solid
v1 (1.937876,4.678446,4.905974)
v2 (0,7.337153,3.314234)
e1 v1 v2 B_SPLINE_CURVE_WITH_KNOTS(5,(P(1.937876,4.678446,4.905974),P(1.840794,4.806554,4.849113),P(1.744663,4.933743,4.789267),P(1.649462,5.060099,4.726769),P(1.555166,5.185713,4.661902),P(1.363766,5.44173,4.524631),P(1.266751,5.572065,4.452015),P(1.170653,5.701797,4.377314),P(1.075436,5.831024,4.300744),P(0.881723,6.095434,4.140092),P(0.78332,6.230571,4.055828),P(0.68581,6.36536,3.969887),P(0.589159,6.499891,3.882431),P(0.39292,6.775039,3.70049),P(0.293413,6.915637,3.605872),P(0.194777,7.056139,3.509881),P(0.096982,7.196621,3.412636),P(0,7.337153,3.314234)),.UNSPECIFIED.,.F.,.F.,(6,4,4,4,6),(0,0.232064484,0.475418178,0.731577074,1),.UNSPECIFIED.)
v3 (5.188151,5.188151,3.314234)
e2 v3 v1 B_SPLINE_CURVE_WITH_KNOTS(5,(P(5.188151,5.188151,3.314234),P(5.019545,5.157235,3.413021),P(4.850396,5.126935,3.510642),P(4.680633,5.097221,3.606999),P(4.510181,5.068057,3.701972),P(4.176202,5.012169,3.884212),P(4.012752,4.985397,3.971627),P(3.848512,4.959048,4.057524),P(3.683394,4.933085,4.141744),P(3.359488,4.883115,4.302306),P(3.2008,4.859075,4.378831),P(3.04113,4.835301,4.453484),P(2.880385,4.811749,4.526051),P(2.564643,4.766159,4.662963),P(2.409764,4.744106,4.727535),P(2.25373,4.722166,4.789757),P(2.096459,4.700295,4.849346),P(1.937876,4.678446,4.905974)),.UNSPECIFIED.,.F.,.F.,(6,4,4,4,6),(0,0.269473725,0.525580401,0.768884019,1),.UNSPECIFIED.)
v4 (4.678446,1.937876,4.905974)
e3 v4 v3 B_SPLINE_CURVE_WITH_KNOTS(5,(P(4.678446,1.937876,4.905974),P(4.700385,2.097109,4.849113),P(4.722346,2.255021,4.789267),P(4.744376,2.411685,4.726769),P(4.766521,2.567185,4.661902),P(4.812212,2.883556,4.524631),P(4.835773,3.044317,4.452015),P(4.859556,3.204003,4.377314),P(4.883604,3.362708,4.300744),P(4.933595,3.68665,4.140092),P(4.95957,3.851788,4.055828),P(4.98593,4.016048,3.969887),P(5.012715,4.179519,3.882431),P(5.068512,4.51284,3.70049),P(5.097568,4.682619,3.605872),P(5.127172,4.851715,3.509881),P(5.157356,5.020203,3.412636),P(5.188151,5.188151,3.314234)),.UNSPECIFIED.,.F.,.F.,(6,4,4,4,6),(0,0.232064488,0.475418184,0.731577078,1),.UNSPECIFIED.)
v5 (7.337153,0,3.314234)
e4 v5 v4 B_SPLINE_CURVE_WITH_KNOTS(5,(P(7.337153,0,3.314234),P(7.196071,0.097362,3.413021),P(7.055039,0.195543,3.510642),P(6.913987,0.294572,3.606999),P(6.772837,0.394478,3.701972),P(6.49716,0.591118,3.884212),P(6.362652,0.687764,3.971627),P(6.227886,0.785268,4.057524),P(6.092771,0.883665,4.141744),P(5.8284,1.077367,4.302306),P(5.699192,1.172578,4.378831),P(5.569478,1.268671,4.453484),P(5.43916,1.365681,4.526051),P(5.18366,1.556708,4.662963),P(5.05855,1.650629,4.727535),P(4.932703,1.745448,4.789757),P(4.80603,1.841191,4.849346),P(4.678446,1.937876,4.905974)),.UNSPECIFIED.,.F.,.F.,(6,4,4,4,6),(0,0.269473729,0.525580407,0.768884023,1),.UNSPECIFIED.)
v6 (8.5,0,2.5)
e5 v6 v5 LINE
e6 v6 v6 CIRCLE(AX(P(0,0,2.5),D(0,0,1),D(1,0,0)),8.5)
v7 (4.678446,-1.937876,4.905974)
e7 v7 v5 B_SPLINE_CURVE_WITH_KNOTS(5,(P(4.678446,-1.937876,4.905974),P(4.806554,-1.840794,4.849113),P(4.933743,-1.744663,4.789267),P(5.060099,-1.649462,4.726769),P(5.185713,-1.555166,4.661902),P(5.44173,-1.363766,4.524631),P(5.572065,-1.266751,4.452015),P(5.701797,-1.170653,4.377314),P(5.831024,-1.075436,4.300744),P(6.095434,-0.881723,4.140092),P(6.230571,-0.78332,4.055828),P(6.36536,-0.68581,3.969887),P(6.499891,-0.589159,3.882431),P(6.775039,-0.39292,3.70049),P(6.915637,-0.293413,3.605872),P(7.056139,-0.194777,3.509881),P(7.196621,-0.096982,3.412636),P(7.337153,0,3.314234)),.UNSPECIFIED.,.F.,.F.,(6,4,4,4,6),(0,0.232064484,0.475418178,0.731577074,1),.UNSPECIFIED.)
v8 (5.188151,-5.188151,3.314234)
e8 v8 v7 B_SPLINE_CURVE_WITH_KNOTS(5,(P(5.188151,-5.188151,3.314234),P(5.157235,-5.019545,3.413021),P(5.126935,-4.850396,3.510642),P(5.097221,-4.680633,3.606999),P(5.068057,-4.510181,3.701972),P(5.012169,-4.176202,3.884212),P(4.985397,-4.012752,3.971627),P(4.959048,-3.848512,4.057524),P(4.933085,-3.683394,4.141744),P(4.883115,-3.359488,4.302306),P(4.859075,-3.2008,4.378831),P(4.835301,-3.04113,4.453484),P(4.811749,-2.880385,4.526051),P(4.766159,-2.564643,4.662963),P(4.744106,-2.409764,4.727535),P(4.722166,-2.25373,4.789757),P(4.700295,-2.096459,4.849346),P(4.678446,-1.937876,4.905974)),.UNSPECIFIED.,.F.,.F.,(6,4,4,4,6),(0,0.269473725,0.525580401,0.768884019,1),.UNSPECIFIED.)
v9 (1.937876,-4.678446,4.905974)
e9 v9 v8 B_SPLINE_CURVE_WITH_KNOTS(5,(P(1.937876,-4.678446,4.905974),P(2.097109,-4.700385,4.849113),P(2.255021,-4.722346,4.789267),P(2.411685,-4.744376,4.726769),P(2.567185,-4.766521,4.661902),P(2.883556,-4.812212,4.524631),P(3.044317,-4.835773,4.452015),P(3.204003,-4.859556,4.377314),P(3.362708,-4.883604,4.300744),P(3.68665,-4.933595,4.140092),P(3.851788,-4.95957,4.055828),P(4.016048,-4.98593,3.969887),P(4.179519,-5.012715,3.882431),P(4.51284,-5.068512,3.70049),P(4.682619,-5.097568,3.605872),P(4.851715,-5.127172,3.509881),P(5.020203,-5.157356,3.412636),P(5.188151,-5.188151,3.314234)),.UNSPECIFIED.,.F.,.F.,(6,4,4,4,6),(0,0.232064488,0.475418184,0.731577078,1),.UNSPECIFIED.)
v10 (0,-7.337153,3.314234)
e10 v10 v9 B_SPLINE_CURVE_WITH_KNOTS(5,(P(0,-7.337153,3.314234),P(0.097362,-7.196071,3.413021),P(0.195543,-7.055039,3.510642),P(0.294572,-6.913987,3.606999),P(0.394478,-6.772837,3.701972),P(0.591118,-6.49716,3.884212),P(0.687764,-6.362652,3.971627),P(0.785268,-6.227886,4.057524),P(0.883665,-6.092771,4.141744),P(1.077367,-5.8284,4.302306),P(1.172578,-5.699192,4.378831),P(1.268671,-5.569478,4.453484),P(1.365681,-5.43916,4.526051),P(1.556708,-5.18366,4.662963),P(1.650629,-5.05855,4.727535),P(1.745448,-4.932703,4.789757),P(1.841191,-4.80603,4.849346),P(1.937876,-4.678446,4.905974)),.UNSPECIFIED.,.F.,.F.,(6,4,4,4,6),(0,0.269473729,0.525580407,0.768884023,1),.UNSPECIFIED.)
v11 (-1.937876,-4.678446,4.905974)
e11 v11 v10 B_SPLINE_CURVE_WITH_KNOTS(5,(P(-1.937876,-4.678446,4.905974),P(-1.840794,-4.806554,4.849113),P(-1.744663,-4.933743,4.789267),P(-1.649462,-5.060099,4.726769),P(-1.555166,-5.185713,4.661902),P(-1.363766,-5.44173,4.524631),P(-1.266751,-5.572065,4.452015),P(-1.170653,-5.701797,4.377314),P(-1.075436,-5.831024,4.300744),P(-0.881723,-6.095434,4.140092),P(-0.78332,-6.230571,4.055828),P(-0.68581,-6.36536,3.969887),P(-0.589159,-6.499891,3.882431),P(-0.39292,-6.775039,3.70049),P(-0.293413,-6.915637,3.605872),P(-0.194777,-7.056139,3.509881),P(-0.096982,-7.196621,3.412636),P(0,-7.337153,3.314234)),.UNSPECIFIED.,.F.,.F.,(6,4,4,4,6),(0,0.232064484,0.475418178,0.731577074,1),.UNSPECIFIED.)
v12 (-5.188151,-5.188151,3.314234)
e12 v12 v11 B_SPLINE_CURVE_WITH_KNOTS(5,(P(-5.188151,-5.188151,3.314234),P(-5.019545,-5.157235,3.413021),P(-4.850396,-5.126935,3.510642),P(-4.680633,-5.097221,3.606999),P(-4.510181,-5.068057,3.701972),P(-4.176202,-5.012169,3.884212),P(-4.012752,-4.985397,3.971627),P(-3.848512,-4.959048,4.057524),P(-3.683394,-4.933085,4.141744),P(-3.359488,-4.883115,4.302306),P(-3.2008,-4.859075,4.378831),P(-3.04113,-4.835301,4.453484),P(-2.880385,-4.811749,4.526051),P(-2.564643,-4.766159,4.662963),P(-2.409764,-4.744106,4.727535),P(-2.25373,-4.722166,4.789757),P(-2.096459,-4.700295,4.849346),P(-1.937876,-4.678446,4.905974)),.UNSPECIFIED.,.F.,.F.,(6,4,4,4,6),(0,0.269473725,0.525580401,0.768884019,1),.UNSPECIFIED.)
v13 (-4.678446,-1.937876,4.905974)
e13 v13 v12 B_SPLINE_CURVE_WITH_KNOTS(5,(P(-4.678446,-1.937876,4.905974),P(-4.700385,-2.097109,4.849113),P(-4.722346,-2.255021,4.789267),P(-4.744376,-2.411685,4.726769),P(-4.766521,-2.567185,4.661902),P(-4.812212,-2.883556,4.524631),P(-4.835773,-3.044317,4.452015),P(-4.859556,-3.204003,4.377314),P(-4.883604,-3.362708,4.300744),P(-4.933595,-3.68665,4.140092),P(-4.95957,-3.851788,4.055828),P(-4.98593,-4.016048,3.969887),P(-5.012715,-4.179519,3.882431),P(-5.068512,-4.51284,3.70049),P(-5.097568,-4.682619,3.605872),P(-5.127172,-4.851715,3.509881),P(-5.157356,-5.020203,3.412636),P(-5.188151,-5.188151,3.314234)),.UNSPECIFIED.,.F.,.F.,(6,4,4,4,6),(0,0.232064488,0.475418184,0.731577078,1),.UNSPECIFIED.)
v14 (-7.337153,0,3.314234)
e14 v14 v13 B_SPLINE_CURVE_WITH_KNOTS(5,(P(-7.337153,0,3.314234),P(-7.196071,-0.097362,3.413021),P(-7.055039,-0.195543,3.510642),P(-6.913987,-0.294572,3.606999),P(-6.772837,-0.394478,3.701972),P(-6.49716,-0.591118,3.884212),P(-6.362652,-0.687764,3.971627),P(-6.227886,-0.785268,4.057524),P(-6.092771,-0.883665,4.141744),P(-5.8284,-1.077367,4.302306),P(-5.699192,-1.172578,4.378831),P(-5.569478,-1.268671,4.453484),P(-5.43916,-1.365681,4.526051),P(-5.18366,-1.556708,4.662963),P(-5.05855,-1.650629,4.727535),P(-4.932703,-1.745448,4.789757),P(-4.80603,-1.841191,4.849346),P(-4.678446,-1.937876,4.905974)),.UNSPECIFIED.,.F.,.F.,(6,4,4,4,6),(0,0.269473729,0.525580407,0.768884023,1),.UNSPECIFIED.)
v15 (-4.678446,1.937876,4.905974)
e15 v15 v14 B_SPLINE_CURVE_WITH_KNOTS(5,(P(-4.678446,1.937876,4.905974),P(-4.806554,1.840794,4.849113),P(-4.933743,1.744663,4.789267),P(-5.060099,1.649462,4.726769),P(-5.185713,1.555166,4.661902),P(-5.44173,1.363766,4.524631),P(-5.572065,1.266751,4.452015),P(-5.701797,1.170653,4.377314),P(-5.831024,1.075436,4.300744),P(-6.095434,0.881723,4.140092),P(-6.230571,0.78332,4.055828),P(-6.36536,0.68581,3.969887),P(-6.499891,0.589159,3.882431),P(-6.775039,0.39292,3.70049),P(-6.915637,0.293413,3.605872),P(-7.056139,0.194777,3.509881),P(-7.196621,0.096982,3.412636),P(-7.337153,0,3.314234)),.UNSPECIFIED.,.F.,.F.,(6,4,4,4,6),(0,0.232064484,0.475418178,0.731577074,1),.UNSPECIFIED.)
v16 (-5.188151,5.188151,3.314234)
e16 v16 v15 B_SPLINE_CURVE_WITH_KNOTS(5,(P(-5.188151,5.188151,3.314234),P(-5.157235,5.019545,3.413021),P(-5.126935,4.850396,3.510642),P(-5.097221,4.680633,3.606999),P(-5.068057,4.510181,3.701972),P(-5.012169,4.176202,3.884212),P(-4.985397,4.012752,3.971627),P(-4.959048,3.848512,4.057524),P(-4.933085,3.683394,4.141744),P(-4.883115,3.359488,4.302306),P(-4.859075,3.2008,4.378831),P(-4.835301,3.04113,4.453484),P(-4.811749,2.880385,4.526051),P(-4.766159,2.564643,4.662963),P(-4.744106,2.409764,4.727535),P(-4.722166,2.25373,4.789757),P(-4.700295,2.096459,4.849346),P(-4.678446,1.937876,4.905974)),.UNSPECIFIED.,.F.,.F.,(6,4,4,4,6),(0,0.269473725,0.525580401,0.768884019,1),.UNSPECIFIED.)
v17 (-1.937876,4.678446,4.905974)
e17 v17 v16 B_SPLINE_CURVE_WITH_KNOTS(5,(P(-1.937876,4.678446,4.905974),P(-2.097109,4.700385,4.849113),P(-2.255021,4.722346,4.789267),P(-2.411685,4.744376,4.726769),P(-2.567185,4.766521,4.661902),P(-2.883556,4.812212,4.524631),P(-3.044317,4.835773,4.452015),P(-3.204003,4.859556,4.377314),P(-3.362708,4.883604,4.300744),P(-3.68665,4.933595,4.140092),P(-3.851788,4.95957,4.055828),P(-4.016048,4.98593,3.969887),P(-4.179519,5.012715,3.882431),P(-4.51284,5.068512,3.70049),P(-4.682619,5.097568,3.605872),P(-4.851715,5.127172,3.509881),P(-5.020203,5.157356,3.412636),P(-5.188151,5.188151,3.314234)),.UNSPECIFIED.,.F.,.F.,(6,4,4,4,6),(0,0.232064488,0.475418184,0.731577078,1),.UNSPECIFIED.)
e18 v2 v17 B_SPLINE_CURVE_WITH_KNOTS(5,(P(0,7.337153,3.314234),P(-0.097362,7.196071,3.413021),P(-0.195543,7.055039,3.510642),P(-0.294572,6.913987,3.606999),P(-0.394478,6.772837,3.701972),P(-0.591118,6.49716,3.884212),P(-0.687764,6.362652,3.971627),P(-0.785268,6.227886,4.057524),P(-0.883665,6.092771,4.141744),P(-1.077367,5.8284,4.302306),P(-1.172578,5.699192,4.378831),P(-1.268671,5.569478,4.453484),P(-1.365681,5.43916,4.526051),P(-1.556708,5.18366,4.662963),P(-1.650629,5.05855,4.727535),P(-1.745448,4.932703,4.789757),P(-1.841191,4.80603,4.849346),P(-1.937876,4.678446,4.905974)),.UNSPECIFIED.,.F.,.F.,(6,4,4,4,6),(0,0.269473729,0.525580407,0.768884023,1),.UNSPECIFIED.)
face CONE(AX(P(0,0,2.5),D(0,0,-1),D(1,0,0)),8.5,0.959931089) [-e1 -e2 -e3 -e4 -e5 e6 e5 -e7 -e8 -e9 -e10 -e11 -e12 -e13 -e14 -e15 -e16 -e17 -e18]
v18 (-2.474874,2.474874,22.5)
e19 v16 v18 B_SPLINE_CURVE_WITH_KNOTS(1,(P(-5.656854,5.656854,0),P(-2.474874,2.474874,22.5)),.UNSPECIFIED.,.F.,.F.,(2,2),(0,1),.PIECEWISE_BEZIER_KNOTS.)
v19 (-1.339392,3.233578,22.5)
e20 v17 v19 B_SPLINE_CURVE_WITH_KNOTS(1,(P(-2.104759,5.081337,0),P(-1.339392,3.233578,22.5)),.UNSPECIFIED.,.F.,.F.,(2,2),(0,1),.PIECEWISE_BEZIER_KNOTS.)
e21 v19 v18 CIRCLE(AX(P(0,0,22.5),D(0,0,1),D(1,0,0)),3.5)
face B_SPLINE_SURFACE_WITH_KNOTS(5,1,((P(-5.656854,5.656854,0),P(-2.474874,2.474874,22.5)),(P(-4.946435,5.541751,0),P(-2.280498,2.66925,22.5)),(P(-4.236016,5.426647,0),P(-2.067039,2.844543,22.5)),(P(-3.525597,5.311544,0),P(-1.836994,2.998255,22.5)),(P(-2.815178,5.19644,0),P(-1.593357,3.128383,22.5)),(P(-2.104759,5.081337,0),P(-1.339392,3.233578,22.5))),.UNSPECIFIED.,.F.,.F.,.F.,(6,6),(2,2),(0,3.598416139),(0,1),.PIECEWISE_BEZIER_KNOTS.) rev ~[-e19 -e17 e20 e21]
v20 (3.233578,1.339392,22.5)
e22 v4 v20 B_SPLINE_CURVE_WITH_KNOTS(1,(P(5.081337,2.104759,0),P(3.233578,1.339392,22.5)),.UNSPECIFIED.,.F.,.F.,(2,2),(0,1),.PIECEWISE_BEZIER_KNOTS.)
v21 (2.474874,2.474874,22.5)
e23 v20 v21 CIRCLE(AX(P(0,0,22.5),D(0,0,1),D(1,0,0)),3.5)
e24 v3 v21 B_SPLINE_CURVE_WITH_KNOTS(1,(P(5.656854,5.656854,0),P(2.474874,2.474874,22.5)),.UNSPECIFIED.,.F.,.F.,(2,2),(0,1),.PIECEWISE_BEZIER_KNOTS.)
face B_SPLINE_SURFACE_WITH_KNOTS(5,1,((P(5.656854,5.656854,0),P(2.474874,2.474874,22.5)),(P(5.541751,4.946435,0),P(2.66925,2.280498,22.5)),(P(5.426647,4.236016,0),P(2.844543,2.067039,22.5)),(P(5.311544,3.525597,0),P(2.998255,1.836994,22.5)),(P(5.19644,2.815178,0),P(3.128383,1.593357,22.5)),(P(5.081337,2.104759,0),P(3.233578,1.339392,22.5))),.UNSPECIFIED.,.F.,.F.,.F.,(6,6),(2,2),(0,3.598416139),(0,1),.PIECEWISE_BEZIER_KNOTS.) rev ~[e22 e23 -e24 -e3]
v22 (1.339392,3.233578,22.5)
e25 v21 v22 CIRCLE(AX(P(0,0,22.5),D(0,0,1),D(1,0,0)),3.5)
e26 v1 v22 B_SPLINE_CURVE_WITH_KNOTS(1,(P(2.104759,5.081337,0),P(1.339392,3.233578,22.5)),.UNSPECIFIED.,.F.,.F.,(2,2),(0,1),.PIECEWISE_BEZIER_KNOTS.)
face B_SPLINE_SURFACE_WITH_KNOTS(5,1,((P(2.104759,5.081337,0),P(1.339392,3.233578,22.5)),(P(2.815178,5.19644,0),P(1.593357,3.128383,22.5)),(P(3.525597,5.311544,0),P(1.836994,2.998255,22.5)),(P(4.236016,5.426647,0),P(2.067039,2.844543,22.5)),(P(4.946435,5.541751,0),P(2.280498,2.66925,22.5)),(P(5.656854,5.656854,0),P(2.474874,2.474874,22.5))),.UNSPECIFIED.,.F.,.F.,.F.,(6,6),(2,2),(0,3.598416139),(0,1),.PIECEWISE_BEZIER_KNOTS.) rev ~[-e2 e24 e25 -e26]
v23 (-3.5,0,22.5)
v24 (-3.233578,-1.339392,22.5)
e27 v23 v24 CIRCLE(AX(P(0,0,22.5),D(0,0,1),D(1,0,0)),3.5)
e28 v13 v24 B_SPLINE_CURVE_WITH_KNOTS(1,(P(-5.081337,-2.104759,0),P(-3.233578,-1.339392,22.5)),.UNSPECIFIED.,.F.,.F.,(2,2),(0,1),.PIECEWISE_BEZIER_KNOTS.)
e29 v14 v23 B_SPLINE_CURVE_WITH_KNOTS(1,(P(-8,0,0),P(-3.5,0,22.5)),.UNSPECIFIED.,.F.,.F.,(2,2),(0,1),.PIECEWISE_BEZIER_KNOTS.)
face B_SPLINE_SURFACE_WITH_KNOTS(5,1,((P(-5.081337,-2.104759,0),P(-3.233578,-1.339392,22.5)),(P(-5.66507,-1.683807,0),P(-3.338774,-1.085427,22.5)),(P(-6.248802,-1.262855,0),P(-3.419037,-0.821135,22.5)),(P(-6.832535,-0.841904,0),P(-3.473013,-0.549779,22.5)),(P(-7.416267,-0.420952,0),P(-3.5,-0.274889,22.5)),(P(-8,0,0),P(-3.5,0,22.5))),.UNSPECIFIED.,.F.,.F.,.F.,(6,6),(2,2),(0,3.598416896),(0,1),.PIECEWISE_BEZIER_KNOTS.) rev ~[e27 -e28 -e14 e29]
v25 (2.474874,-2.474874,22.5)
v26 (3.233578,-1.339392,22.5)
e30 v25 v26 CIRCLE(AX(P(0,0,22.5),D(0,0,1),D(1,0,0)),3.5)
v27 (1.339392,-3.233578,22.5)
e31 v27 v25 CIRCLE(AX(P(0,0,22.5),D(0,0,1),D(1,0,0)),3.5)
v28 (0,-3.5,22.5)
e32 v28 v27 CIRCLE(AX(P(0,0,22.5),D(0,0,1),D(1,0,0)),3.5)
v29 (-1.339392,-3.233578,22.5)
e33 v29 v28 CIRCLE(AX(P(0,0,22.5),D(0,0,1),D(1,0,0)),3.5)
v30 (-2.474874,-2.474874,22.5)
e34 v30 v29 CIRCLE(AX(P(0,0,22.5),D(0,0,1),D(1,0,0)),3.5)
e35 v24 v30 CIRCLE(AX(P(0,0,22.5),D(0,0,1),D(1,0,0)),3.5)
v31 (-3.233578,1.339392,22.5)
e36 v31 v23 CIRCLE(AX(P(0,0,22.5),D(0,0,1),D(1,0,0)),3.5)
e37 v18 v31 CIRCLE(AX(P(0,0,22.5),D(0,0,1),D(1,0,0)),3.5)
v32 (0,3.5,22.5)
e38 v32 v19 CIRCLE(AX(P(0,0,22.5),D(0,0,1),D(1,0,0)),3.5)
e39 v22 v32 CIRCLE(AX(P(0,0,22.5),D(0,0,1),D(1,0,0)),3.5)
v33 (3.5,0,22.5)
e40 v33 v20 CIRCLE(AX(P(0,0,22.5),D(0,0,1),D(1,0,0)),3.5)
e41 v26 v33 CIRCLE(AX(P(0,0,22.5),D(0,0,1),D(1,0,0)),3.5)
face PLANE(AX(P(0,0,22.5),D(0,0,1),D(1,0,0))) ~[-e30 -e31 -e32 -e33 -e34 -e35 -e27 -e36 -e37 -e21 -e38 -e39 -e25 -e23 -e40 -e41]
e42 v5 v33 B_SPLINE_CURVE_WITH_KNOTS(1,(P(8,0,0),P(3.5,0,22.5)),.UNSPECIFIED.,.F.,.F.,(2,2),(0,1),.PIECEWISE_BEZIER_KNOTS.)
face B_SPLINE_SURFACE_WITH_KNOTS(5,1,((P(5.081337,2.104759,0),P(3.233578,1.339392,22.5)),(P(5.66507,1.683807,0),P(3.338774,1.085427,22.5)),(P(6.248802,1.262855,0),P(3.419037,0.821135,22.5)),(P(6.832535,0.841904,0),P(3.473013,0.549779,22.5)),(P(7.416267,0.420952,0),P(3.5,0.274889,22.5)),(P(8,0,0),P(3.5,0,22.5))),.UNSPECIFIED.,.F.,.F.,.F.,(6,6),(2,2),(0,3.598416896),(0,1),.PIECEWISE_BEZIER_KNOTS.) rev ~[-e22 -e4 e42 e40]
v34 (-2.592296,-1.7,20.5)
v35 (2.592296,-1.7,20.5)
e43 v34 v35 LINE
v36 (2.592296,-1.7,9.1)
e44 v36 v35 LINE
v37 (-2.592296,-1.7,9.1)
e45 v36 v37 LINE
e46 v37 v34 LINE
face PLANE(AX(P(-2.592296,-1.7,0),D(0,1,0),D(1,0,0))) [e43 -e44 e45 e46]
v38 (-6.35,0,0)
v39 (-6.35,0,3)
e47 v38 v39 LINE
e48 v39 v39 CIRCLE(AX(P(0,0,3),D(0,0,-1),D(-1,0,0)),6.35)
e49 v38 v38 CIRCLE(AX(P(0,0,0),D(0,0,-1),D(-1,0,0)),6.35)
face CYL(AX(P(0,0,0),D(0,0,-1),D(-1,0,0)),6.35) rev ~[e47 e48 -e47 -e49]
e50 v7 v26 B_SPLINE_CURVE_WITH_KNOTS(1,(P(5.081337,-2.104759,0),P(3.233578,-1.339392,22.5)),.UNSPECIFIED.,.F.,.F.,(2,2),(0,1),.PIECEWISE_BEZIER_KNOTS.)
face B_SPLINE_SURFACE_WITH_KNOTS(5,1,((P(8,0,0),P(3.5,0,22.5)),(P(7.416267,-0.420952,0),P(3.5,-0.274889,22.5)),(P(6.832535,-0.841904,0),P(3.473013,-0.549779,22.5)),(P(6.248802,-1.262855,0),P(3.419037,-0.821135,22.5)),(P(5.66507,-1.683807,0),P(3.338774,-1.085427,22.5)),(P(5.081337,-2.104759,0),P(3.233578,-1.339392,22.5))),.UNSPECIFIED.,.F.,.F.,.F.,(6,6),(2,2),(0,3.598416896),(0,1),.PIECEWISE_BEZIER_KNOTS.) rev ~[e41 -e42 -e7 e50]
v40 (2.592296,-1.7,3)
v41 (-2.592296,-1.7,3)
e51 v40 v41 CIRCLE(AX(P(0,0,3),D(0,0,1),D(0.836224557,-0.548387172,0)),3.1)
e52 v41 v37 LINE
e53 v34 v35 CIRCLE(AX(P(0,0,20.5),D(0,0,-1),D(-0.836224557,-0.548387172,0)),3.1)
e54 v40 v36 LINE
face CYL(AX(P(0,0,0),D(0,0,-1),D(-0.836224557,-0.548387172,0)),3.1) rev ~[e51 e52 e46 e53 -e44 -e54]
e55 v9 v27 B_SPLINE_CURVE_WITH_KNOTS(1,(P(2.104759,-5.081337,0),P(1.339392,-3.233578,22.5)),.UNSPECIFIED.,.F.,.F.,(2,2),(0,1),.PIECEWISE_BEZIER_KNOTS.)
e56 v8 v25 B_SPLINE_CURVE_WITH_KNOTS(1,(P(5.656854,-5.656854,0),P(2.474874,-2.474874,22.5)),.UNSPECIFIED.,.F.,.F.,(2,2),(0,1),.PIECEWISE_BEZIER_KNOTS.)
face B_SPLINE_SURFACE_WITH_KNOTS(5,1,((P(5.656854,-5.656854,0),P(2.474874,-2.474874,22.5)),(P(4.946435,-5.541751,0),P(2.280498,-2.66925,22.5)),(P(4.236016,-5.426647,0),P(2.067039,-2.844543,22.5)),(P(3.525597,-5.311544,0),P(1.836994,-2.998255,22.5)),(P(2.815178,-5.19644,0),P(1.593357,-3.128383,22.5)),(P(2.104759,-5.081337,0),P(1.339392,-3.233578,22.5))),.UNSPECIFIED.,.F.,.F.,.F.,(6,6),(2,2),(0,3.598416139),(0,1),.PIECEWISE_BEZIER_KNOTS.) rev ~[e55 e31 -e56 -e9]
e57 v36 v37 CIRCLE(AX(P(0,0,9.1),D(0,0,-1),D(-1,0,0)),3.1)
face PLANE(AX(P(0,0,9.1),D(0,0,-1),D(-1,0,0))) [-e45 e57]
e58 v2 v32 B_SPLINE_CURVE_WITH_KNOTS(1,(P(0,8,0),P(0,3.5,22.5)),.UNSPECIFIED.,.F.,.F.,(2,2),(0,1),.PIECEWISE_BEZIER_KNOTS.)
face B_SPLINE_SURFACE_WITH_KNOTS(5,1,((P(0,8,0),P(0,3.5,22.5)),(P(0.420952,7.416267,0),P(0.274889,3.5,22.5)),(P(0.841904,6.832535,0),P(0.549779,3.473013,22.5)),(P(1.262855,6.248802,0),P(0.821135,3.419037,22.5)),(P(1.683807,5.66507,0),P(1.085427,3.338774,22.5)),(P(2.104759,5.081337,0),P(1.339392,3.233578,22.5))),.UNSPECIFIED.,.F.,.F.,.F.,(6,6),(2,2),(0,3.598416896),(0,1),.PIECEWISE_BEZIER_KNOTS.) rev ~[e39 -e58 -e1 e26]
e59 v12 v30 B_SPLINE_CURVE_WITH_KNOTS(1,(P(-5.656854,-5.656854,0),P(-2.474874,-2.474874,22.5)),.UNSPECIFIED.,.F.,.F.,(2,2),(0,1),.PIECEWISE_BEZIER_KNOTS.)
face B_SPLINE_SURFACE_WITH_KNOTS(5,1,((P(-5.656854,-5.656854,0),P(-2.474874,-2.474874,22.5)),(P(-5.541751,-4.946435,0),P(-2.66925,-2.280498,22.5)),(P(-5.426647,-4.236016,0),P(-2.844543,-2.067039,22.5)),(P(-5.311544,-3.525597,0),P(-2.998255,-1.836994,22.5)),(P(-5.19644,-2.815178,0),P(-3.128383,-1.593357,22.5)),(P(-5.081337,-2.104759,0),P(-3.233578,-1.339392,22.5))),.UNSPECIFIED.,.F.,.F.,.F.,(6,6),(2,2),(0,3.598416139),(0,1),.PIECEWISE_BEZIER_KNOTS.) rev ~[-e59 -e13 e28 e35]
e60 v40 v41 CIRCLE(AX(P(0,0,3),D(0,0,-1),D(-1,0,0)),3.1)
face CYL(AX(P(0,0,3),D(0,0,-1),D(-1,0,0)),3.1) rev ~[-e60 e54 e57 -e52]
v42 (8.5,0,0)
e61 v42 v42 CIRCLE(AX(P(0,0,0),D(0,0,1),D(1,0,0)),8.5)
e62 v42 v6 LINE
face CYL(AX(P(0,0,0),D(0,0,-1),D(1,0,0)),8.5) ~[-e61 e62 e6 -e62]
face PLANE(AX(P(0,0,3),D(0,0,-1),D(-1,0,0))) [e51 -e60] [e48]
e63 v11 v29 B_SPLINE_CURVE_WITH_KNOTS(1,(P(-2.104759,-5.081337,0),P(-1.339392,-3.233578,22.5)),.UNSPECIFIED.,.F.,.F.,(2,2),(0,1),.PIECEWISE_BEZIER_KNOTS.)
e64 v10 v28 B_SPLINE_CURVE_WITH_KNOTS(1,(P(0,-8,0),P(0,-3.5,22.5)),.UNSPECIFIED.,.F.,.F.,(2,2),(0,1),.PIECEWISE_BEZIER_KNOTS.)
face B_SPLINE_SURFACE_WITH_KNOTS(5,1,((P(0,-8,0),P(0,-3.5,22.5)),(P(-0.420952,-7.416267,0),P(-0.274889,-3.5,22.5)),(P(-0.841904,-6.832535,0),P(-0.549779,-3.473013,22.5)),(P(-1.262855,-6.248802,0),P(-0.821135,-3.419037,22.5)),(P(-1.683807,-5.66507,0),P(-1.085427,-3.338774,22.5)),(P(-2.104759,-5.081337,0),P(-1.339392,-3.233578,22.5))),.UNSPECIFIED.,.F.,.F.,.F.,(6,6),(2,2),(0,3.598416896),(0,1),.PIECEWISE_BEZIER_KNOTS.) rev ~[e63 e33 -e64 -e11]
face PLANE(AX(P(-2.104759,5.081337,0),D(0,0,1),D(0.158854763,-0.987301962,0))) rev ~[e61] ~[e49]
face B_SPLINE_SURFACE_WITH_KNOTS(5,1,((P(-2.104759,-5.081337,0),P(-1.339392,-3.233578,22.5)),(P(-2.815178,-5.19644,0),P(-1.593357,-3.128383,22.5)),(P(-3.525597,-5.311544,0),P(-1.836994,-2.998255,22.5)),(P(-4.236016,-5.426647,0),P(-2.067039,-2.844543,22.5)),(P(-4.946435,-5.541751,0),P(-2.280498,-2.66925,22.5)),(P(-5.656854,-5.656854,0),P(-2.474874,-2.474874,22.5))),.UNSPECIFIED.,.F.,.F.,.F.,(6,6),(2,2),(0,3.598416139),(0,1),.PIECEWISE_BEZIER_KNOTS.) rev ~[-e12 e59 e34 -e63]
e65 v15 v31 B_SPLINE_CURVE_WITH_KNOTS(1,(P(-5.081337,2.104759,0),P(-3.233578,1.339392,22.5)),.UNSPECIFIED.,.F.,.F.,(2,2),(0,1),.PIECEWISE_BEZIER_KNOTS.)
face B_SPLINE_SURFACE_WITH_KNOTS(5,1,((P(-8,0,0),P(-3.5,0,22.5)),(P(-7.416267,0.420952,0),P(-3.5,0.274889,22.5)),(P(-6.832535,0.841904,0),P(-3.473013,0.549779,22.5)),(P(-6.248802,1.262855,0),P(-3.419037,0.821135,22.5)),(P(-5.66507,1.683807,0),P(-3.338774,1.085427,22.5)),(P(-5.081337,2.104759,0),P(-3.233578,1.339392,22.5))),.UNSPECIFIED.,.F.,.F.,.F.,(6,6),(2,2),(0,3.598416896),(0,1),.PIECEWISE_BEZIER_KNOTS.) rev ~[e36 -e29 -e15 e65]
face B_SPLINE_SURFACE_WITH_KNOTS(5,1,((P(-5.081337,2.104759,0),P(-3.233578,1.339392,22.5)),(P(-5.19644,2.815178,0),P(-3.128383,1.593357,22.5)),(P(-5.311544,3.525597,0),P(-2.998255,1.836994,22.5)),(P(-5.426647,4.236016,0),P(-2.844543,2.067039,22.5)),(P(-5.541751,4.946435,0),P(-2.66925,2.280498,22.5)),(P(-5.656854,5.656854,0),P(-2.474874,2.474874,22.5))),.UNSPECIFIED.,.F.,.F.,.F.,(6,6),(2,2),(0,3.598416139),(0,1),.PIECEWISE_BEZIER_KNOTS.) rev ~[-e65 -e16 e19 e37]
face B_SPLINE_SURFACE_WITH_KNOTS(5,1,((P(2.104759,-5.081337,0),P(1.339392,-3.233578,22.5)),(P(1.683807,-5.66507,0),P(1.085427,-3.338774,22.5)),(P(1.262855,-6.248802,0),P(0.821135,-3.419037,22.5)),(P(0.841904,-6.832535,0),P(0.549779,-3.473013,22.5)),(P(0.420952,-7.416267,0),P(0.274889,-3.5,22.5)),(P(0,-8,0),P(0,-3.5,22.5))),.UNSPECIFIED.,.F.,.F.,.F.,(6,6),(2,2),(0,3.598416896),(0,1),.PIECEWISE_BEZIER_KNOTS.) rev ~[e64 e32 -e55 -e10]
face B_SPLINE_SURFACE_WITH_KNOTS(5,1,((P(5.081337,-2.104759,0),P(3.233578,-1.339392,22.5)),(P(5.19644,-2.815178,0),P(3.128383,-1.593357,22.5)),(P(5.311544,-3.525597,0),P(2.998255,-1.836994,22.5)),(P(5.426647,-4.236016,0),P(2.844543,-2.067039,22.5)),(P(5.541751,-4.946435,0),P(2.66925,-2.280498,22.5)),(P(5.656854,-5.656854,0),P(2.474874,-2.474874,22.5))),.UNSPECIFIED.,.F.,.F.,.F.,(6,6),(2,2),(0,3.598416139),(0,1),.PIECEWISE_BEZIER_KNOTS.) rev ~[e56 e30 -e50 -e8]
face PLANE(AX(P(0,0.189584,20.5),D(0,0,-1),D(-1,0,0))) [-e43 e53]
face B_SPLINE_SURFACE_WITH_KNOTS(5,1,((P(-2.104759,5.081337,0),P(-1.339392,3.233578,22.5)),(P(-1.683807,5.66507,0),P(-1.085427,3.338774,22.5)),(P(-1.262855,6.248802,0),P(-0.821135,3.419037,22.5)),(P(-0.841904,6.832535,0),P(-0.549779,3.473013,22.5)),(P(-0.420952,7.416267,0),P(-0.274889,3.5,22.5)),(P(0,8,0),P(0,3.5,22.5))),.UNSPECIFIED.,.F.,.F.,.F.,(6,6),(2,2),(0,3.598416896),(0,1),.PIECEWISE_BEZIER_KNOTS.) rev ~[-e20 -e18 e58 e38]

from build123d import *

# Parameters (mm, degrees)
SKETCH_R        = 8.5
PAD001_DEPTH    = 6
CHAMFER_ANGLE   = 55
CHAMFER_SIZE    = 3.5
SKETCH007_R     = 3.5
POCKET_DEPTH    = 20.5
SKETCH5_R       = 6.35
POCKET001_DEPTH = 3
SKETCH6_R       = 3.1
POCKET002_DEPTH = 6.1


with BuildPart() as part:
    # Sketch → Pad001 (new body)
    with BuildSketch(Plane.XY):
        Circle(SKETCH_R)
    extrude(amount=PAD001_DEPTH)

    # Chamfer
    chamfer_edges = [part.edges().sort_by_distance(p)[0] for p in [
        (-8.5, 0, 6),
    ]]
    chamfer_side = part.faces().sort_by_distance((-8.5, 0, 3))[0]
    chamfer(chamfer_edges, length=CHAMFER_SIZE, angle=CHAMFER_ANGLE, reference=chamfer_side)

    # Sketch1 → AdditiveLoft section 0
    with BuildSketch(Plane.XY):
        Polygon((-2.104759, 5.081337), (0, 8), (2.104759, 5.081337), (5.656854, 5.656854), (5.081337, 2.104759), (8, 0), (5.081337, -2.104759), (5.656854, -5.656854), (2.104759, -5.081337), (0, -8), (-2.104759, -5.081337), (-5.656854, -5.656854), (-5.081337, -2.104759), (-8, 0), (-5.081337, 2.104759), (-5.656854, 5.656854), align=None)
    # Sketch007 → AdditiveLoft section 1
    with BuildSketch(Plane.XY.offset(22.5)):
        Circle(SKETCH007_R)
    loft()

    # Sketch3 → Pocket (cut)
    with BuildSketch(Plane(origin=(0, 0, 0), x_dir=(-1, 0, 0), z_dir=(0, 0, -1))):
        with BuildLine():
            ThreePointArc((2.592296, -1.7), (0, 3.1), (-2.592296, -1.7))
            Line((2.592296, -1.7), (-2.592296, -1.7))
        make_face()
    extrude(amount=-POCKET_DEPTH, mode=Mode.SUBTRACT)

    # Sketch5 → Pocket001 (cut)
    with BuildSketch(Plane(origin=(0, 0, 0), x_dir=(-1, 0, 0), z_dir=(0, 0, -1))):
        Circle(SKETCH5_R)
    extrude(amount=-POCKET001_DEPTH, mode=Mode.SUBTRACT)

    # Sketch6 → Pocket002 (cut)
    with BuildSketch(Plane(origin=(0, 0, 3), x_dir=(-1, 0, 0), z_dir=(0, 0, -1))):
        Circle(SKETCH6_R)
    extrude(amount=-POCKET002_DEPTH, mode=Mode.SUBTRACT)


solid = part.part
